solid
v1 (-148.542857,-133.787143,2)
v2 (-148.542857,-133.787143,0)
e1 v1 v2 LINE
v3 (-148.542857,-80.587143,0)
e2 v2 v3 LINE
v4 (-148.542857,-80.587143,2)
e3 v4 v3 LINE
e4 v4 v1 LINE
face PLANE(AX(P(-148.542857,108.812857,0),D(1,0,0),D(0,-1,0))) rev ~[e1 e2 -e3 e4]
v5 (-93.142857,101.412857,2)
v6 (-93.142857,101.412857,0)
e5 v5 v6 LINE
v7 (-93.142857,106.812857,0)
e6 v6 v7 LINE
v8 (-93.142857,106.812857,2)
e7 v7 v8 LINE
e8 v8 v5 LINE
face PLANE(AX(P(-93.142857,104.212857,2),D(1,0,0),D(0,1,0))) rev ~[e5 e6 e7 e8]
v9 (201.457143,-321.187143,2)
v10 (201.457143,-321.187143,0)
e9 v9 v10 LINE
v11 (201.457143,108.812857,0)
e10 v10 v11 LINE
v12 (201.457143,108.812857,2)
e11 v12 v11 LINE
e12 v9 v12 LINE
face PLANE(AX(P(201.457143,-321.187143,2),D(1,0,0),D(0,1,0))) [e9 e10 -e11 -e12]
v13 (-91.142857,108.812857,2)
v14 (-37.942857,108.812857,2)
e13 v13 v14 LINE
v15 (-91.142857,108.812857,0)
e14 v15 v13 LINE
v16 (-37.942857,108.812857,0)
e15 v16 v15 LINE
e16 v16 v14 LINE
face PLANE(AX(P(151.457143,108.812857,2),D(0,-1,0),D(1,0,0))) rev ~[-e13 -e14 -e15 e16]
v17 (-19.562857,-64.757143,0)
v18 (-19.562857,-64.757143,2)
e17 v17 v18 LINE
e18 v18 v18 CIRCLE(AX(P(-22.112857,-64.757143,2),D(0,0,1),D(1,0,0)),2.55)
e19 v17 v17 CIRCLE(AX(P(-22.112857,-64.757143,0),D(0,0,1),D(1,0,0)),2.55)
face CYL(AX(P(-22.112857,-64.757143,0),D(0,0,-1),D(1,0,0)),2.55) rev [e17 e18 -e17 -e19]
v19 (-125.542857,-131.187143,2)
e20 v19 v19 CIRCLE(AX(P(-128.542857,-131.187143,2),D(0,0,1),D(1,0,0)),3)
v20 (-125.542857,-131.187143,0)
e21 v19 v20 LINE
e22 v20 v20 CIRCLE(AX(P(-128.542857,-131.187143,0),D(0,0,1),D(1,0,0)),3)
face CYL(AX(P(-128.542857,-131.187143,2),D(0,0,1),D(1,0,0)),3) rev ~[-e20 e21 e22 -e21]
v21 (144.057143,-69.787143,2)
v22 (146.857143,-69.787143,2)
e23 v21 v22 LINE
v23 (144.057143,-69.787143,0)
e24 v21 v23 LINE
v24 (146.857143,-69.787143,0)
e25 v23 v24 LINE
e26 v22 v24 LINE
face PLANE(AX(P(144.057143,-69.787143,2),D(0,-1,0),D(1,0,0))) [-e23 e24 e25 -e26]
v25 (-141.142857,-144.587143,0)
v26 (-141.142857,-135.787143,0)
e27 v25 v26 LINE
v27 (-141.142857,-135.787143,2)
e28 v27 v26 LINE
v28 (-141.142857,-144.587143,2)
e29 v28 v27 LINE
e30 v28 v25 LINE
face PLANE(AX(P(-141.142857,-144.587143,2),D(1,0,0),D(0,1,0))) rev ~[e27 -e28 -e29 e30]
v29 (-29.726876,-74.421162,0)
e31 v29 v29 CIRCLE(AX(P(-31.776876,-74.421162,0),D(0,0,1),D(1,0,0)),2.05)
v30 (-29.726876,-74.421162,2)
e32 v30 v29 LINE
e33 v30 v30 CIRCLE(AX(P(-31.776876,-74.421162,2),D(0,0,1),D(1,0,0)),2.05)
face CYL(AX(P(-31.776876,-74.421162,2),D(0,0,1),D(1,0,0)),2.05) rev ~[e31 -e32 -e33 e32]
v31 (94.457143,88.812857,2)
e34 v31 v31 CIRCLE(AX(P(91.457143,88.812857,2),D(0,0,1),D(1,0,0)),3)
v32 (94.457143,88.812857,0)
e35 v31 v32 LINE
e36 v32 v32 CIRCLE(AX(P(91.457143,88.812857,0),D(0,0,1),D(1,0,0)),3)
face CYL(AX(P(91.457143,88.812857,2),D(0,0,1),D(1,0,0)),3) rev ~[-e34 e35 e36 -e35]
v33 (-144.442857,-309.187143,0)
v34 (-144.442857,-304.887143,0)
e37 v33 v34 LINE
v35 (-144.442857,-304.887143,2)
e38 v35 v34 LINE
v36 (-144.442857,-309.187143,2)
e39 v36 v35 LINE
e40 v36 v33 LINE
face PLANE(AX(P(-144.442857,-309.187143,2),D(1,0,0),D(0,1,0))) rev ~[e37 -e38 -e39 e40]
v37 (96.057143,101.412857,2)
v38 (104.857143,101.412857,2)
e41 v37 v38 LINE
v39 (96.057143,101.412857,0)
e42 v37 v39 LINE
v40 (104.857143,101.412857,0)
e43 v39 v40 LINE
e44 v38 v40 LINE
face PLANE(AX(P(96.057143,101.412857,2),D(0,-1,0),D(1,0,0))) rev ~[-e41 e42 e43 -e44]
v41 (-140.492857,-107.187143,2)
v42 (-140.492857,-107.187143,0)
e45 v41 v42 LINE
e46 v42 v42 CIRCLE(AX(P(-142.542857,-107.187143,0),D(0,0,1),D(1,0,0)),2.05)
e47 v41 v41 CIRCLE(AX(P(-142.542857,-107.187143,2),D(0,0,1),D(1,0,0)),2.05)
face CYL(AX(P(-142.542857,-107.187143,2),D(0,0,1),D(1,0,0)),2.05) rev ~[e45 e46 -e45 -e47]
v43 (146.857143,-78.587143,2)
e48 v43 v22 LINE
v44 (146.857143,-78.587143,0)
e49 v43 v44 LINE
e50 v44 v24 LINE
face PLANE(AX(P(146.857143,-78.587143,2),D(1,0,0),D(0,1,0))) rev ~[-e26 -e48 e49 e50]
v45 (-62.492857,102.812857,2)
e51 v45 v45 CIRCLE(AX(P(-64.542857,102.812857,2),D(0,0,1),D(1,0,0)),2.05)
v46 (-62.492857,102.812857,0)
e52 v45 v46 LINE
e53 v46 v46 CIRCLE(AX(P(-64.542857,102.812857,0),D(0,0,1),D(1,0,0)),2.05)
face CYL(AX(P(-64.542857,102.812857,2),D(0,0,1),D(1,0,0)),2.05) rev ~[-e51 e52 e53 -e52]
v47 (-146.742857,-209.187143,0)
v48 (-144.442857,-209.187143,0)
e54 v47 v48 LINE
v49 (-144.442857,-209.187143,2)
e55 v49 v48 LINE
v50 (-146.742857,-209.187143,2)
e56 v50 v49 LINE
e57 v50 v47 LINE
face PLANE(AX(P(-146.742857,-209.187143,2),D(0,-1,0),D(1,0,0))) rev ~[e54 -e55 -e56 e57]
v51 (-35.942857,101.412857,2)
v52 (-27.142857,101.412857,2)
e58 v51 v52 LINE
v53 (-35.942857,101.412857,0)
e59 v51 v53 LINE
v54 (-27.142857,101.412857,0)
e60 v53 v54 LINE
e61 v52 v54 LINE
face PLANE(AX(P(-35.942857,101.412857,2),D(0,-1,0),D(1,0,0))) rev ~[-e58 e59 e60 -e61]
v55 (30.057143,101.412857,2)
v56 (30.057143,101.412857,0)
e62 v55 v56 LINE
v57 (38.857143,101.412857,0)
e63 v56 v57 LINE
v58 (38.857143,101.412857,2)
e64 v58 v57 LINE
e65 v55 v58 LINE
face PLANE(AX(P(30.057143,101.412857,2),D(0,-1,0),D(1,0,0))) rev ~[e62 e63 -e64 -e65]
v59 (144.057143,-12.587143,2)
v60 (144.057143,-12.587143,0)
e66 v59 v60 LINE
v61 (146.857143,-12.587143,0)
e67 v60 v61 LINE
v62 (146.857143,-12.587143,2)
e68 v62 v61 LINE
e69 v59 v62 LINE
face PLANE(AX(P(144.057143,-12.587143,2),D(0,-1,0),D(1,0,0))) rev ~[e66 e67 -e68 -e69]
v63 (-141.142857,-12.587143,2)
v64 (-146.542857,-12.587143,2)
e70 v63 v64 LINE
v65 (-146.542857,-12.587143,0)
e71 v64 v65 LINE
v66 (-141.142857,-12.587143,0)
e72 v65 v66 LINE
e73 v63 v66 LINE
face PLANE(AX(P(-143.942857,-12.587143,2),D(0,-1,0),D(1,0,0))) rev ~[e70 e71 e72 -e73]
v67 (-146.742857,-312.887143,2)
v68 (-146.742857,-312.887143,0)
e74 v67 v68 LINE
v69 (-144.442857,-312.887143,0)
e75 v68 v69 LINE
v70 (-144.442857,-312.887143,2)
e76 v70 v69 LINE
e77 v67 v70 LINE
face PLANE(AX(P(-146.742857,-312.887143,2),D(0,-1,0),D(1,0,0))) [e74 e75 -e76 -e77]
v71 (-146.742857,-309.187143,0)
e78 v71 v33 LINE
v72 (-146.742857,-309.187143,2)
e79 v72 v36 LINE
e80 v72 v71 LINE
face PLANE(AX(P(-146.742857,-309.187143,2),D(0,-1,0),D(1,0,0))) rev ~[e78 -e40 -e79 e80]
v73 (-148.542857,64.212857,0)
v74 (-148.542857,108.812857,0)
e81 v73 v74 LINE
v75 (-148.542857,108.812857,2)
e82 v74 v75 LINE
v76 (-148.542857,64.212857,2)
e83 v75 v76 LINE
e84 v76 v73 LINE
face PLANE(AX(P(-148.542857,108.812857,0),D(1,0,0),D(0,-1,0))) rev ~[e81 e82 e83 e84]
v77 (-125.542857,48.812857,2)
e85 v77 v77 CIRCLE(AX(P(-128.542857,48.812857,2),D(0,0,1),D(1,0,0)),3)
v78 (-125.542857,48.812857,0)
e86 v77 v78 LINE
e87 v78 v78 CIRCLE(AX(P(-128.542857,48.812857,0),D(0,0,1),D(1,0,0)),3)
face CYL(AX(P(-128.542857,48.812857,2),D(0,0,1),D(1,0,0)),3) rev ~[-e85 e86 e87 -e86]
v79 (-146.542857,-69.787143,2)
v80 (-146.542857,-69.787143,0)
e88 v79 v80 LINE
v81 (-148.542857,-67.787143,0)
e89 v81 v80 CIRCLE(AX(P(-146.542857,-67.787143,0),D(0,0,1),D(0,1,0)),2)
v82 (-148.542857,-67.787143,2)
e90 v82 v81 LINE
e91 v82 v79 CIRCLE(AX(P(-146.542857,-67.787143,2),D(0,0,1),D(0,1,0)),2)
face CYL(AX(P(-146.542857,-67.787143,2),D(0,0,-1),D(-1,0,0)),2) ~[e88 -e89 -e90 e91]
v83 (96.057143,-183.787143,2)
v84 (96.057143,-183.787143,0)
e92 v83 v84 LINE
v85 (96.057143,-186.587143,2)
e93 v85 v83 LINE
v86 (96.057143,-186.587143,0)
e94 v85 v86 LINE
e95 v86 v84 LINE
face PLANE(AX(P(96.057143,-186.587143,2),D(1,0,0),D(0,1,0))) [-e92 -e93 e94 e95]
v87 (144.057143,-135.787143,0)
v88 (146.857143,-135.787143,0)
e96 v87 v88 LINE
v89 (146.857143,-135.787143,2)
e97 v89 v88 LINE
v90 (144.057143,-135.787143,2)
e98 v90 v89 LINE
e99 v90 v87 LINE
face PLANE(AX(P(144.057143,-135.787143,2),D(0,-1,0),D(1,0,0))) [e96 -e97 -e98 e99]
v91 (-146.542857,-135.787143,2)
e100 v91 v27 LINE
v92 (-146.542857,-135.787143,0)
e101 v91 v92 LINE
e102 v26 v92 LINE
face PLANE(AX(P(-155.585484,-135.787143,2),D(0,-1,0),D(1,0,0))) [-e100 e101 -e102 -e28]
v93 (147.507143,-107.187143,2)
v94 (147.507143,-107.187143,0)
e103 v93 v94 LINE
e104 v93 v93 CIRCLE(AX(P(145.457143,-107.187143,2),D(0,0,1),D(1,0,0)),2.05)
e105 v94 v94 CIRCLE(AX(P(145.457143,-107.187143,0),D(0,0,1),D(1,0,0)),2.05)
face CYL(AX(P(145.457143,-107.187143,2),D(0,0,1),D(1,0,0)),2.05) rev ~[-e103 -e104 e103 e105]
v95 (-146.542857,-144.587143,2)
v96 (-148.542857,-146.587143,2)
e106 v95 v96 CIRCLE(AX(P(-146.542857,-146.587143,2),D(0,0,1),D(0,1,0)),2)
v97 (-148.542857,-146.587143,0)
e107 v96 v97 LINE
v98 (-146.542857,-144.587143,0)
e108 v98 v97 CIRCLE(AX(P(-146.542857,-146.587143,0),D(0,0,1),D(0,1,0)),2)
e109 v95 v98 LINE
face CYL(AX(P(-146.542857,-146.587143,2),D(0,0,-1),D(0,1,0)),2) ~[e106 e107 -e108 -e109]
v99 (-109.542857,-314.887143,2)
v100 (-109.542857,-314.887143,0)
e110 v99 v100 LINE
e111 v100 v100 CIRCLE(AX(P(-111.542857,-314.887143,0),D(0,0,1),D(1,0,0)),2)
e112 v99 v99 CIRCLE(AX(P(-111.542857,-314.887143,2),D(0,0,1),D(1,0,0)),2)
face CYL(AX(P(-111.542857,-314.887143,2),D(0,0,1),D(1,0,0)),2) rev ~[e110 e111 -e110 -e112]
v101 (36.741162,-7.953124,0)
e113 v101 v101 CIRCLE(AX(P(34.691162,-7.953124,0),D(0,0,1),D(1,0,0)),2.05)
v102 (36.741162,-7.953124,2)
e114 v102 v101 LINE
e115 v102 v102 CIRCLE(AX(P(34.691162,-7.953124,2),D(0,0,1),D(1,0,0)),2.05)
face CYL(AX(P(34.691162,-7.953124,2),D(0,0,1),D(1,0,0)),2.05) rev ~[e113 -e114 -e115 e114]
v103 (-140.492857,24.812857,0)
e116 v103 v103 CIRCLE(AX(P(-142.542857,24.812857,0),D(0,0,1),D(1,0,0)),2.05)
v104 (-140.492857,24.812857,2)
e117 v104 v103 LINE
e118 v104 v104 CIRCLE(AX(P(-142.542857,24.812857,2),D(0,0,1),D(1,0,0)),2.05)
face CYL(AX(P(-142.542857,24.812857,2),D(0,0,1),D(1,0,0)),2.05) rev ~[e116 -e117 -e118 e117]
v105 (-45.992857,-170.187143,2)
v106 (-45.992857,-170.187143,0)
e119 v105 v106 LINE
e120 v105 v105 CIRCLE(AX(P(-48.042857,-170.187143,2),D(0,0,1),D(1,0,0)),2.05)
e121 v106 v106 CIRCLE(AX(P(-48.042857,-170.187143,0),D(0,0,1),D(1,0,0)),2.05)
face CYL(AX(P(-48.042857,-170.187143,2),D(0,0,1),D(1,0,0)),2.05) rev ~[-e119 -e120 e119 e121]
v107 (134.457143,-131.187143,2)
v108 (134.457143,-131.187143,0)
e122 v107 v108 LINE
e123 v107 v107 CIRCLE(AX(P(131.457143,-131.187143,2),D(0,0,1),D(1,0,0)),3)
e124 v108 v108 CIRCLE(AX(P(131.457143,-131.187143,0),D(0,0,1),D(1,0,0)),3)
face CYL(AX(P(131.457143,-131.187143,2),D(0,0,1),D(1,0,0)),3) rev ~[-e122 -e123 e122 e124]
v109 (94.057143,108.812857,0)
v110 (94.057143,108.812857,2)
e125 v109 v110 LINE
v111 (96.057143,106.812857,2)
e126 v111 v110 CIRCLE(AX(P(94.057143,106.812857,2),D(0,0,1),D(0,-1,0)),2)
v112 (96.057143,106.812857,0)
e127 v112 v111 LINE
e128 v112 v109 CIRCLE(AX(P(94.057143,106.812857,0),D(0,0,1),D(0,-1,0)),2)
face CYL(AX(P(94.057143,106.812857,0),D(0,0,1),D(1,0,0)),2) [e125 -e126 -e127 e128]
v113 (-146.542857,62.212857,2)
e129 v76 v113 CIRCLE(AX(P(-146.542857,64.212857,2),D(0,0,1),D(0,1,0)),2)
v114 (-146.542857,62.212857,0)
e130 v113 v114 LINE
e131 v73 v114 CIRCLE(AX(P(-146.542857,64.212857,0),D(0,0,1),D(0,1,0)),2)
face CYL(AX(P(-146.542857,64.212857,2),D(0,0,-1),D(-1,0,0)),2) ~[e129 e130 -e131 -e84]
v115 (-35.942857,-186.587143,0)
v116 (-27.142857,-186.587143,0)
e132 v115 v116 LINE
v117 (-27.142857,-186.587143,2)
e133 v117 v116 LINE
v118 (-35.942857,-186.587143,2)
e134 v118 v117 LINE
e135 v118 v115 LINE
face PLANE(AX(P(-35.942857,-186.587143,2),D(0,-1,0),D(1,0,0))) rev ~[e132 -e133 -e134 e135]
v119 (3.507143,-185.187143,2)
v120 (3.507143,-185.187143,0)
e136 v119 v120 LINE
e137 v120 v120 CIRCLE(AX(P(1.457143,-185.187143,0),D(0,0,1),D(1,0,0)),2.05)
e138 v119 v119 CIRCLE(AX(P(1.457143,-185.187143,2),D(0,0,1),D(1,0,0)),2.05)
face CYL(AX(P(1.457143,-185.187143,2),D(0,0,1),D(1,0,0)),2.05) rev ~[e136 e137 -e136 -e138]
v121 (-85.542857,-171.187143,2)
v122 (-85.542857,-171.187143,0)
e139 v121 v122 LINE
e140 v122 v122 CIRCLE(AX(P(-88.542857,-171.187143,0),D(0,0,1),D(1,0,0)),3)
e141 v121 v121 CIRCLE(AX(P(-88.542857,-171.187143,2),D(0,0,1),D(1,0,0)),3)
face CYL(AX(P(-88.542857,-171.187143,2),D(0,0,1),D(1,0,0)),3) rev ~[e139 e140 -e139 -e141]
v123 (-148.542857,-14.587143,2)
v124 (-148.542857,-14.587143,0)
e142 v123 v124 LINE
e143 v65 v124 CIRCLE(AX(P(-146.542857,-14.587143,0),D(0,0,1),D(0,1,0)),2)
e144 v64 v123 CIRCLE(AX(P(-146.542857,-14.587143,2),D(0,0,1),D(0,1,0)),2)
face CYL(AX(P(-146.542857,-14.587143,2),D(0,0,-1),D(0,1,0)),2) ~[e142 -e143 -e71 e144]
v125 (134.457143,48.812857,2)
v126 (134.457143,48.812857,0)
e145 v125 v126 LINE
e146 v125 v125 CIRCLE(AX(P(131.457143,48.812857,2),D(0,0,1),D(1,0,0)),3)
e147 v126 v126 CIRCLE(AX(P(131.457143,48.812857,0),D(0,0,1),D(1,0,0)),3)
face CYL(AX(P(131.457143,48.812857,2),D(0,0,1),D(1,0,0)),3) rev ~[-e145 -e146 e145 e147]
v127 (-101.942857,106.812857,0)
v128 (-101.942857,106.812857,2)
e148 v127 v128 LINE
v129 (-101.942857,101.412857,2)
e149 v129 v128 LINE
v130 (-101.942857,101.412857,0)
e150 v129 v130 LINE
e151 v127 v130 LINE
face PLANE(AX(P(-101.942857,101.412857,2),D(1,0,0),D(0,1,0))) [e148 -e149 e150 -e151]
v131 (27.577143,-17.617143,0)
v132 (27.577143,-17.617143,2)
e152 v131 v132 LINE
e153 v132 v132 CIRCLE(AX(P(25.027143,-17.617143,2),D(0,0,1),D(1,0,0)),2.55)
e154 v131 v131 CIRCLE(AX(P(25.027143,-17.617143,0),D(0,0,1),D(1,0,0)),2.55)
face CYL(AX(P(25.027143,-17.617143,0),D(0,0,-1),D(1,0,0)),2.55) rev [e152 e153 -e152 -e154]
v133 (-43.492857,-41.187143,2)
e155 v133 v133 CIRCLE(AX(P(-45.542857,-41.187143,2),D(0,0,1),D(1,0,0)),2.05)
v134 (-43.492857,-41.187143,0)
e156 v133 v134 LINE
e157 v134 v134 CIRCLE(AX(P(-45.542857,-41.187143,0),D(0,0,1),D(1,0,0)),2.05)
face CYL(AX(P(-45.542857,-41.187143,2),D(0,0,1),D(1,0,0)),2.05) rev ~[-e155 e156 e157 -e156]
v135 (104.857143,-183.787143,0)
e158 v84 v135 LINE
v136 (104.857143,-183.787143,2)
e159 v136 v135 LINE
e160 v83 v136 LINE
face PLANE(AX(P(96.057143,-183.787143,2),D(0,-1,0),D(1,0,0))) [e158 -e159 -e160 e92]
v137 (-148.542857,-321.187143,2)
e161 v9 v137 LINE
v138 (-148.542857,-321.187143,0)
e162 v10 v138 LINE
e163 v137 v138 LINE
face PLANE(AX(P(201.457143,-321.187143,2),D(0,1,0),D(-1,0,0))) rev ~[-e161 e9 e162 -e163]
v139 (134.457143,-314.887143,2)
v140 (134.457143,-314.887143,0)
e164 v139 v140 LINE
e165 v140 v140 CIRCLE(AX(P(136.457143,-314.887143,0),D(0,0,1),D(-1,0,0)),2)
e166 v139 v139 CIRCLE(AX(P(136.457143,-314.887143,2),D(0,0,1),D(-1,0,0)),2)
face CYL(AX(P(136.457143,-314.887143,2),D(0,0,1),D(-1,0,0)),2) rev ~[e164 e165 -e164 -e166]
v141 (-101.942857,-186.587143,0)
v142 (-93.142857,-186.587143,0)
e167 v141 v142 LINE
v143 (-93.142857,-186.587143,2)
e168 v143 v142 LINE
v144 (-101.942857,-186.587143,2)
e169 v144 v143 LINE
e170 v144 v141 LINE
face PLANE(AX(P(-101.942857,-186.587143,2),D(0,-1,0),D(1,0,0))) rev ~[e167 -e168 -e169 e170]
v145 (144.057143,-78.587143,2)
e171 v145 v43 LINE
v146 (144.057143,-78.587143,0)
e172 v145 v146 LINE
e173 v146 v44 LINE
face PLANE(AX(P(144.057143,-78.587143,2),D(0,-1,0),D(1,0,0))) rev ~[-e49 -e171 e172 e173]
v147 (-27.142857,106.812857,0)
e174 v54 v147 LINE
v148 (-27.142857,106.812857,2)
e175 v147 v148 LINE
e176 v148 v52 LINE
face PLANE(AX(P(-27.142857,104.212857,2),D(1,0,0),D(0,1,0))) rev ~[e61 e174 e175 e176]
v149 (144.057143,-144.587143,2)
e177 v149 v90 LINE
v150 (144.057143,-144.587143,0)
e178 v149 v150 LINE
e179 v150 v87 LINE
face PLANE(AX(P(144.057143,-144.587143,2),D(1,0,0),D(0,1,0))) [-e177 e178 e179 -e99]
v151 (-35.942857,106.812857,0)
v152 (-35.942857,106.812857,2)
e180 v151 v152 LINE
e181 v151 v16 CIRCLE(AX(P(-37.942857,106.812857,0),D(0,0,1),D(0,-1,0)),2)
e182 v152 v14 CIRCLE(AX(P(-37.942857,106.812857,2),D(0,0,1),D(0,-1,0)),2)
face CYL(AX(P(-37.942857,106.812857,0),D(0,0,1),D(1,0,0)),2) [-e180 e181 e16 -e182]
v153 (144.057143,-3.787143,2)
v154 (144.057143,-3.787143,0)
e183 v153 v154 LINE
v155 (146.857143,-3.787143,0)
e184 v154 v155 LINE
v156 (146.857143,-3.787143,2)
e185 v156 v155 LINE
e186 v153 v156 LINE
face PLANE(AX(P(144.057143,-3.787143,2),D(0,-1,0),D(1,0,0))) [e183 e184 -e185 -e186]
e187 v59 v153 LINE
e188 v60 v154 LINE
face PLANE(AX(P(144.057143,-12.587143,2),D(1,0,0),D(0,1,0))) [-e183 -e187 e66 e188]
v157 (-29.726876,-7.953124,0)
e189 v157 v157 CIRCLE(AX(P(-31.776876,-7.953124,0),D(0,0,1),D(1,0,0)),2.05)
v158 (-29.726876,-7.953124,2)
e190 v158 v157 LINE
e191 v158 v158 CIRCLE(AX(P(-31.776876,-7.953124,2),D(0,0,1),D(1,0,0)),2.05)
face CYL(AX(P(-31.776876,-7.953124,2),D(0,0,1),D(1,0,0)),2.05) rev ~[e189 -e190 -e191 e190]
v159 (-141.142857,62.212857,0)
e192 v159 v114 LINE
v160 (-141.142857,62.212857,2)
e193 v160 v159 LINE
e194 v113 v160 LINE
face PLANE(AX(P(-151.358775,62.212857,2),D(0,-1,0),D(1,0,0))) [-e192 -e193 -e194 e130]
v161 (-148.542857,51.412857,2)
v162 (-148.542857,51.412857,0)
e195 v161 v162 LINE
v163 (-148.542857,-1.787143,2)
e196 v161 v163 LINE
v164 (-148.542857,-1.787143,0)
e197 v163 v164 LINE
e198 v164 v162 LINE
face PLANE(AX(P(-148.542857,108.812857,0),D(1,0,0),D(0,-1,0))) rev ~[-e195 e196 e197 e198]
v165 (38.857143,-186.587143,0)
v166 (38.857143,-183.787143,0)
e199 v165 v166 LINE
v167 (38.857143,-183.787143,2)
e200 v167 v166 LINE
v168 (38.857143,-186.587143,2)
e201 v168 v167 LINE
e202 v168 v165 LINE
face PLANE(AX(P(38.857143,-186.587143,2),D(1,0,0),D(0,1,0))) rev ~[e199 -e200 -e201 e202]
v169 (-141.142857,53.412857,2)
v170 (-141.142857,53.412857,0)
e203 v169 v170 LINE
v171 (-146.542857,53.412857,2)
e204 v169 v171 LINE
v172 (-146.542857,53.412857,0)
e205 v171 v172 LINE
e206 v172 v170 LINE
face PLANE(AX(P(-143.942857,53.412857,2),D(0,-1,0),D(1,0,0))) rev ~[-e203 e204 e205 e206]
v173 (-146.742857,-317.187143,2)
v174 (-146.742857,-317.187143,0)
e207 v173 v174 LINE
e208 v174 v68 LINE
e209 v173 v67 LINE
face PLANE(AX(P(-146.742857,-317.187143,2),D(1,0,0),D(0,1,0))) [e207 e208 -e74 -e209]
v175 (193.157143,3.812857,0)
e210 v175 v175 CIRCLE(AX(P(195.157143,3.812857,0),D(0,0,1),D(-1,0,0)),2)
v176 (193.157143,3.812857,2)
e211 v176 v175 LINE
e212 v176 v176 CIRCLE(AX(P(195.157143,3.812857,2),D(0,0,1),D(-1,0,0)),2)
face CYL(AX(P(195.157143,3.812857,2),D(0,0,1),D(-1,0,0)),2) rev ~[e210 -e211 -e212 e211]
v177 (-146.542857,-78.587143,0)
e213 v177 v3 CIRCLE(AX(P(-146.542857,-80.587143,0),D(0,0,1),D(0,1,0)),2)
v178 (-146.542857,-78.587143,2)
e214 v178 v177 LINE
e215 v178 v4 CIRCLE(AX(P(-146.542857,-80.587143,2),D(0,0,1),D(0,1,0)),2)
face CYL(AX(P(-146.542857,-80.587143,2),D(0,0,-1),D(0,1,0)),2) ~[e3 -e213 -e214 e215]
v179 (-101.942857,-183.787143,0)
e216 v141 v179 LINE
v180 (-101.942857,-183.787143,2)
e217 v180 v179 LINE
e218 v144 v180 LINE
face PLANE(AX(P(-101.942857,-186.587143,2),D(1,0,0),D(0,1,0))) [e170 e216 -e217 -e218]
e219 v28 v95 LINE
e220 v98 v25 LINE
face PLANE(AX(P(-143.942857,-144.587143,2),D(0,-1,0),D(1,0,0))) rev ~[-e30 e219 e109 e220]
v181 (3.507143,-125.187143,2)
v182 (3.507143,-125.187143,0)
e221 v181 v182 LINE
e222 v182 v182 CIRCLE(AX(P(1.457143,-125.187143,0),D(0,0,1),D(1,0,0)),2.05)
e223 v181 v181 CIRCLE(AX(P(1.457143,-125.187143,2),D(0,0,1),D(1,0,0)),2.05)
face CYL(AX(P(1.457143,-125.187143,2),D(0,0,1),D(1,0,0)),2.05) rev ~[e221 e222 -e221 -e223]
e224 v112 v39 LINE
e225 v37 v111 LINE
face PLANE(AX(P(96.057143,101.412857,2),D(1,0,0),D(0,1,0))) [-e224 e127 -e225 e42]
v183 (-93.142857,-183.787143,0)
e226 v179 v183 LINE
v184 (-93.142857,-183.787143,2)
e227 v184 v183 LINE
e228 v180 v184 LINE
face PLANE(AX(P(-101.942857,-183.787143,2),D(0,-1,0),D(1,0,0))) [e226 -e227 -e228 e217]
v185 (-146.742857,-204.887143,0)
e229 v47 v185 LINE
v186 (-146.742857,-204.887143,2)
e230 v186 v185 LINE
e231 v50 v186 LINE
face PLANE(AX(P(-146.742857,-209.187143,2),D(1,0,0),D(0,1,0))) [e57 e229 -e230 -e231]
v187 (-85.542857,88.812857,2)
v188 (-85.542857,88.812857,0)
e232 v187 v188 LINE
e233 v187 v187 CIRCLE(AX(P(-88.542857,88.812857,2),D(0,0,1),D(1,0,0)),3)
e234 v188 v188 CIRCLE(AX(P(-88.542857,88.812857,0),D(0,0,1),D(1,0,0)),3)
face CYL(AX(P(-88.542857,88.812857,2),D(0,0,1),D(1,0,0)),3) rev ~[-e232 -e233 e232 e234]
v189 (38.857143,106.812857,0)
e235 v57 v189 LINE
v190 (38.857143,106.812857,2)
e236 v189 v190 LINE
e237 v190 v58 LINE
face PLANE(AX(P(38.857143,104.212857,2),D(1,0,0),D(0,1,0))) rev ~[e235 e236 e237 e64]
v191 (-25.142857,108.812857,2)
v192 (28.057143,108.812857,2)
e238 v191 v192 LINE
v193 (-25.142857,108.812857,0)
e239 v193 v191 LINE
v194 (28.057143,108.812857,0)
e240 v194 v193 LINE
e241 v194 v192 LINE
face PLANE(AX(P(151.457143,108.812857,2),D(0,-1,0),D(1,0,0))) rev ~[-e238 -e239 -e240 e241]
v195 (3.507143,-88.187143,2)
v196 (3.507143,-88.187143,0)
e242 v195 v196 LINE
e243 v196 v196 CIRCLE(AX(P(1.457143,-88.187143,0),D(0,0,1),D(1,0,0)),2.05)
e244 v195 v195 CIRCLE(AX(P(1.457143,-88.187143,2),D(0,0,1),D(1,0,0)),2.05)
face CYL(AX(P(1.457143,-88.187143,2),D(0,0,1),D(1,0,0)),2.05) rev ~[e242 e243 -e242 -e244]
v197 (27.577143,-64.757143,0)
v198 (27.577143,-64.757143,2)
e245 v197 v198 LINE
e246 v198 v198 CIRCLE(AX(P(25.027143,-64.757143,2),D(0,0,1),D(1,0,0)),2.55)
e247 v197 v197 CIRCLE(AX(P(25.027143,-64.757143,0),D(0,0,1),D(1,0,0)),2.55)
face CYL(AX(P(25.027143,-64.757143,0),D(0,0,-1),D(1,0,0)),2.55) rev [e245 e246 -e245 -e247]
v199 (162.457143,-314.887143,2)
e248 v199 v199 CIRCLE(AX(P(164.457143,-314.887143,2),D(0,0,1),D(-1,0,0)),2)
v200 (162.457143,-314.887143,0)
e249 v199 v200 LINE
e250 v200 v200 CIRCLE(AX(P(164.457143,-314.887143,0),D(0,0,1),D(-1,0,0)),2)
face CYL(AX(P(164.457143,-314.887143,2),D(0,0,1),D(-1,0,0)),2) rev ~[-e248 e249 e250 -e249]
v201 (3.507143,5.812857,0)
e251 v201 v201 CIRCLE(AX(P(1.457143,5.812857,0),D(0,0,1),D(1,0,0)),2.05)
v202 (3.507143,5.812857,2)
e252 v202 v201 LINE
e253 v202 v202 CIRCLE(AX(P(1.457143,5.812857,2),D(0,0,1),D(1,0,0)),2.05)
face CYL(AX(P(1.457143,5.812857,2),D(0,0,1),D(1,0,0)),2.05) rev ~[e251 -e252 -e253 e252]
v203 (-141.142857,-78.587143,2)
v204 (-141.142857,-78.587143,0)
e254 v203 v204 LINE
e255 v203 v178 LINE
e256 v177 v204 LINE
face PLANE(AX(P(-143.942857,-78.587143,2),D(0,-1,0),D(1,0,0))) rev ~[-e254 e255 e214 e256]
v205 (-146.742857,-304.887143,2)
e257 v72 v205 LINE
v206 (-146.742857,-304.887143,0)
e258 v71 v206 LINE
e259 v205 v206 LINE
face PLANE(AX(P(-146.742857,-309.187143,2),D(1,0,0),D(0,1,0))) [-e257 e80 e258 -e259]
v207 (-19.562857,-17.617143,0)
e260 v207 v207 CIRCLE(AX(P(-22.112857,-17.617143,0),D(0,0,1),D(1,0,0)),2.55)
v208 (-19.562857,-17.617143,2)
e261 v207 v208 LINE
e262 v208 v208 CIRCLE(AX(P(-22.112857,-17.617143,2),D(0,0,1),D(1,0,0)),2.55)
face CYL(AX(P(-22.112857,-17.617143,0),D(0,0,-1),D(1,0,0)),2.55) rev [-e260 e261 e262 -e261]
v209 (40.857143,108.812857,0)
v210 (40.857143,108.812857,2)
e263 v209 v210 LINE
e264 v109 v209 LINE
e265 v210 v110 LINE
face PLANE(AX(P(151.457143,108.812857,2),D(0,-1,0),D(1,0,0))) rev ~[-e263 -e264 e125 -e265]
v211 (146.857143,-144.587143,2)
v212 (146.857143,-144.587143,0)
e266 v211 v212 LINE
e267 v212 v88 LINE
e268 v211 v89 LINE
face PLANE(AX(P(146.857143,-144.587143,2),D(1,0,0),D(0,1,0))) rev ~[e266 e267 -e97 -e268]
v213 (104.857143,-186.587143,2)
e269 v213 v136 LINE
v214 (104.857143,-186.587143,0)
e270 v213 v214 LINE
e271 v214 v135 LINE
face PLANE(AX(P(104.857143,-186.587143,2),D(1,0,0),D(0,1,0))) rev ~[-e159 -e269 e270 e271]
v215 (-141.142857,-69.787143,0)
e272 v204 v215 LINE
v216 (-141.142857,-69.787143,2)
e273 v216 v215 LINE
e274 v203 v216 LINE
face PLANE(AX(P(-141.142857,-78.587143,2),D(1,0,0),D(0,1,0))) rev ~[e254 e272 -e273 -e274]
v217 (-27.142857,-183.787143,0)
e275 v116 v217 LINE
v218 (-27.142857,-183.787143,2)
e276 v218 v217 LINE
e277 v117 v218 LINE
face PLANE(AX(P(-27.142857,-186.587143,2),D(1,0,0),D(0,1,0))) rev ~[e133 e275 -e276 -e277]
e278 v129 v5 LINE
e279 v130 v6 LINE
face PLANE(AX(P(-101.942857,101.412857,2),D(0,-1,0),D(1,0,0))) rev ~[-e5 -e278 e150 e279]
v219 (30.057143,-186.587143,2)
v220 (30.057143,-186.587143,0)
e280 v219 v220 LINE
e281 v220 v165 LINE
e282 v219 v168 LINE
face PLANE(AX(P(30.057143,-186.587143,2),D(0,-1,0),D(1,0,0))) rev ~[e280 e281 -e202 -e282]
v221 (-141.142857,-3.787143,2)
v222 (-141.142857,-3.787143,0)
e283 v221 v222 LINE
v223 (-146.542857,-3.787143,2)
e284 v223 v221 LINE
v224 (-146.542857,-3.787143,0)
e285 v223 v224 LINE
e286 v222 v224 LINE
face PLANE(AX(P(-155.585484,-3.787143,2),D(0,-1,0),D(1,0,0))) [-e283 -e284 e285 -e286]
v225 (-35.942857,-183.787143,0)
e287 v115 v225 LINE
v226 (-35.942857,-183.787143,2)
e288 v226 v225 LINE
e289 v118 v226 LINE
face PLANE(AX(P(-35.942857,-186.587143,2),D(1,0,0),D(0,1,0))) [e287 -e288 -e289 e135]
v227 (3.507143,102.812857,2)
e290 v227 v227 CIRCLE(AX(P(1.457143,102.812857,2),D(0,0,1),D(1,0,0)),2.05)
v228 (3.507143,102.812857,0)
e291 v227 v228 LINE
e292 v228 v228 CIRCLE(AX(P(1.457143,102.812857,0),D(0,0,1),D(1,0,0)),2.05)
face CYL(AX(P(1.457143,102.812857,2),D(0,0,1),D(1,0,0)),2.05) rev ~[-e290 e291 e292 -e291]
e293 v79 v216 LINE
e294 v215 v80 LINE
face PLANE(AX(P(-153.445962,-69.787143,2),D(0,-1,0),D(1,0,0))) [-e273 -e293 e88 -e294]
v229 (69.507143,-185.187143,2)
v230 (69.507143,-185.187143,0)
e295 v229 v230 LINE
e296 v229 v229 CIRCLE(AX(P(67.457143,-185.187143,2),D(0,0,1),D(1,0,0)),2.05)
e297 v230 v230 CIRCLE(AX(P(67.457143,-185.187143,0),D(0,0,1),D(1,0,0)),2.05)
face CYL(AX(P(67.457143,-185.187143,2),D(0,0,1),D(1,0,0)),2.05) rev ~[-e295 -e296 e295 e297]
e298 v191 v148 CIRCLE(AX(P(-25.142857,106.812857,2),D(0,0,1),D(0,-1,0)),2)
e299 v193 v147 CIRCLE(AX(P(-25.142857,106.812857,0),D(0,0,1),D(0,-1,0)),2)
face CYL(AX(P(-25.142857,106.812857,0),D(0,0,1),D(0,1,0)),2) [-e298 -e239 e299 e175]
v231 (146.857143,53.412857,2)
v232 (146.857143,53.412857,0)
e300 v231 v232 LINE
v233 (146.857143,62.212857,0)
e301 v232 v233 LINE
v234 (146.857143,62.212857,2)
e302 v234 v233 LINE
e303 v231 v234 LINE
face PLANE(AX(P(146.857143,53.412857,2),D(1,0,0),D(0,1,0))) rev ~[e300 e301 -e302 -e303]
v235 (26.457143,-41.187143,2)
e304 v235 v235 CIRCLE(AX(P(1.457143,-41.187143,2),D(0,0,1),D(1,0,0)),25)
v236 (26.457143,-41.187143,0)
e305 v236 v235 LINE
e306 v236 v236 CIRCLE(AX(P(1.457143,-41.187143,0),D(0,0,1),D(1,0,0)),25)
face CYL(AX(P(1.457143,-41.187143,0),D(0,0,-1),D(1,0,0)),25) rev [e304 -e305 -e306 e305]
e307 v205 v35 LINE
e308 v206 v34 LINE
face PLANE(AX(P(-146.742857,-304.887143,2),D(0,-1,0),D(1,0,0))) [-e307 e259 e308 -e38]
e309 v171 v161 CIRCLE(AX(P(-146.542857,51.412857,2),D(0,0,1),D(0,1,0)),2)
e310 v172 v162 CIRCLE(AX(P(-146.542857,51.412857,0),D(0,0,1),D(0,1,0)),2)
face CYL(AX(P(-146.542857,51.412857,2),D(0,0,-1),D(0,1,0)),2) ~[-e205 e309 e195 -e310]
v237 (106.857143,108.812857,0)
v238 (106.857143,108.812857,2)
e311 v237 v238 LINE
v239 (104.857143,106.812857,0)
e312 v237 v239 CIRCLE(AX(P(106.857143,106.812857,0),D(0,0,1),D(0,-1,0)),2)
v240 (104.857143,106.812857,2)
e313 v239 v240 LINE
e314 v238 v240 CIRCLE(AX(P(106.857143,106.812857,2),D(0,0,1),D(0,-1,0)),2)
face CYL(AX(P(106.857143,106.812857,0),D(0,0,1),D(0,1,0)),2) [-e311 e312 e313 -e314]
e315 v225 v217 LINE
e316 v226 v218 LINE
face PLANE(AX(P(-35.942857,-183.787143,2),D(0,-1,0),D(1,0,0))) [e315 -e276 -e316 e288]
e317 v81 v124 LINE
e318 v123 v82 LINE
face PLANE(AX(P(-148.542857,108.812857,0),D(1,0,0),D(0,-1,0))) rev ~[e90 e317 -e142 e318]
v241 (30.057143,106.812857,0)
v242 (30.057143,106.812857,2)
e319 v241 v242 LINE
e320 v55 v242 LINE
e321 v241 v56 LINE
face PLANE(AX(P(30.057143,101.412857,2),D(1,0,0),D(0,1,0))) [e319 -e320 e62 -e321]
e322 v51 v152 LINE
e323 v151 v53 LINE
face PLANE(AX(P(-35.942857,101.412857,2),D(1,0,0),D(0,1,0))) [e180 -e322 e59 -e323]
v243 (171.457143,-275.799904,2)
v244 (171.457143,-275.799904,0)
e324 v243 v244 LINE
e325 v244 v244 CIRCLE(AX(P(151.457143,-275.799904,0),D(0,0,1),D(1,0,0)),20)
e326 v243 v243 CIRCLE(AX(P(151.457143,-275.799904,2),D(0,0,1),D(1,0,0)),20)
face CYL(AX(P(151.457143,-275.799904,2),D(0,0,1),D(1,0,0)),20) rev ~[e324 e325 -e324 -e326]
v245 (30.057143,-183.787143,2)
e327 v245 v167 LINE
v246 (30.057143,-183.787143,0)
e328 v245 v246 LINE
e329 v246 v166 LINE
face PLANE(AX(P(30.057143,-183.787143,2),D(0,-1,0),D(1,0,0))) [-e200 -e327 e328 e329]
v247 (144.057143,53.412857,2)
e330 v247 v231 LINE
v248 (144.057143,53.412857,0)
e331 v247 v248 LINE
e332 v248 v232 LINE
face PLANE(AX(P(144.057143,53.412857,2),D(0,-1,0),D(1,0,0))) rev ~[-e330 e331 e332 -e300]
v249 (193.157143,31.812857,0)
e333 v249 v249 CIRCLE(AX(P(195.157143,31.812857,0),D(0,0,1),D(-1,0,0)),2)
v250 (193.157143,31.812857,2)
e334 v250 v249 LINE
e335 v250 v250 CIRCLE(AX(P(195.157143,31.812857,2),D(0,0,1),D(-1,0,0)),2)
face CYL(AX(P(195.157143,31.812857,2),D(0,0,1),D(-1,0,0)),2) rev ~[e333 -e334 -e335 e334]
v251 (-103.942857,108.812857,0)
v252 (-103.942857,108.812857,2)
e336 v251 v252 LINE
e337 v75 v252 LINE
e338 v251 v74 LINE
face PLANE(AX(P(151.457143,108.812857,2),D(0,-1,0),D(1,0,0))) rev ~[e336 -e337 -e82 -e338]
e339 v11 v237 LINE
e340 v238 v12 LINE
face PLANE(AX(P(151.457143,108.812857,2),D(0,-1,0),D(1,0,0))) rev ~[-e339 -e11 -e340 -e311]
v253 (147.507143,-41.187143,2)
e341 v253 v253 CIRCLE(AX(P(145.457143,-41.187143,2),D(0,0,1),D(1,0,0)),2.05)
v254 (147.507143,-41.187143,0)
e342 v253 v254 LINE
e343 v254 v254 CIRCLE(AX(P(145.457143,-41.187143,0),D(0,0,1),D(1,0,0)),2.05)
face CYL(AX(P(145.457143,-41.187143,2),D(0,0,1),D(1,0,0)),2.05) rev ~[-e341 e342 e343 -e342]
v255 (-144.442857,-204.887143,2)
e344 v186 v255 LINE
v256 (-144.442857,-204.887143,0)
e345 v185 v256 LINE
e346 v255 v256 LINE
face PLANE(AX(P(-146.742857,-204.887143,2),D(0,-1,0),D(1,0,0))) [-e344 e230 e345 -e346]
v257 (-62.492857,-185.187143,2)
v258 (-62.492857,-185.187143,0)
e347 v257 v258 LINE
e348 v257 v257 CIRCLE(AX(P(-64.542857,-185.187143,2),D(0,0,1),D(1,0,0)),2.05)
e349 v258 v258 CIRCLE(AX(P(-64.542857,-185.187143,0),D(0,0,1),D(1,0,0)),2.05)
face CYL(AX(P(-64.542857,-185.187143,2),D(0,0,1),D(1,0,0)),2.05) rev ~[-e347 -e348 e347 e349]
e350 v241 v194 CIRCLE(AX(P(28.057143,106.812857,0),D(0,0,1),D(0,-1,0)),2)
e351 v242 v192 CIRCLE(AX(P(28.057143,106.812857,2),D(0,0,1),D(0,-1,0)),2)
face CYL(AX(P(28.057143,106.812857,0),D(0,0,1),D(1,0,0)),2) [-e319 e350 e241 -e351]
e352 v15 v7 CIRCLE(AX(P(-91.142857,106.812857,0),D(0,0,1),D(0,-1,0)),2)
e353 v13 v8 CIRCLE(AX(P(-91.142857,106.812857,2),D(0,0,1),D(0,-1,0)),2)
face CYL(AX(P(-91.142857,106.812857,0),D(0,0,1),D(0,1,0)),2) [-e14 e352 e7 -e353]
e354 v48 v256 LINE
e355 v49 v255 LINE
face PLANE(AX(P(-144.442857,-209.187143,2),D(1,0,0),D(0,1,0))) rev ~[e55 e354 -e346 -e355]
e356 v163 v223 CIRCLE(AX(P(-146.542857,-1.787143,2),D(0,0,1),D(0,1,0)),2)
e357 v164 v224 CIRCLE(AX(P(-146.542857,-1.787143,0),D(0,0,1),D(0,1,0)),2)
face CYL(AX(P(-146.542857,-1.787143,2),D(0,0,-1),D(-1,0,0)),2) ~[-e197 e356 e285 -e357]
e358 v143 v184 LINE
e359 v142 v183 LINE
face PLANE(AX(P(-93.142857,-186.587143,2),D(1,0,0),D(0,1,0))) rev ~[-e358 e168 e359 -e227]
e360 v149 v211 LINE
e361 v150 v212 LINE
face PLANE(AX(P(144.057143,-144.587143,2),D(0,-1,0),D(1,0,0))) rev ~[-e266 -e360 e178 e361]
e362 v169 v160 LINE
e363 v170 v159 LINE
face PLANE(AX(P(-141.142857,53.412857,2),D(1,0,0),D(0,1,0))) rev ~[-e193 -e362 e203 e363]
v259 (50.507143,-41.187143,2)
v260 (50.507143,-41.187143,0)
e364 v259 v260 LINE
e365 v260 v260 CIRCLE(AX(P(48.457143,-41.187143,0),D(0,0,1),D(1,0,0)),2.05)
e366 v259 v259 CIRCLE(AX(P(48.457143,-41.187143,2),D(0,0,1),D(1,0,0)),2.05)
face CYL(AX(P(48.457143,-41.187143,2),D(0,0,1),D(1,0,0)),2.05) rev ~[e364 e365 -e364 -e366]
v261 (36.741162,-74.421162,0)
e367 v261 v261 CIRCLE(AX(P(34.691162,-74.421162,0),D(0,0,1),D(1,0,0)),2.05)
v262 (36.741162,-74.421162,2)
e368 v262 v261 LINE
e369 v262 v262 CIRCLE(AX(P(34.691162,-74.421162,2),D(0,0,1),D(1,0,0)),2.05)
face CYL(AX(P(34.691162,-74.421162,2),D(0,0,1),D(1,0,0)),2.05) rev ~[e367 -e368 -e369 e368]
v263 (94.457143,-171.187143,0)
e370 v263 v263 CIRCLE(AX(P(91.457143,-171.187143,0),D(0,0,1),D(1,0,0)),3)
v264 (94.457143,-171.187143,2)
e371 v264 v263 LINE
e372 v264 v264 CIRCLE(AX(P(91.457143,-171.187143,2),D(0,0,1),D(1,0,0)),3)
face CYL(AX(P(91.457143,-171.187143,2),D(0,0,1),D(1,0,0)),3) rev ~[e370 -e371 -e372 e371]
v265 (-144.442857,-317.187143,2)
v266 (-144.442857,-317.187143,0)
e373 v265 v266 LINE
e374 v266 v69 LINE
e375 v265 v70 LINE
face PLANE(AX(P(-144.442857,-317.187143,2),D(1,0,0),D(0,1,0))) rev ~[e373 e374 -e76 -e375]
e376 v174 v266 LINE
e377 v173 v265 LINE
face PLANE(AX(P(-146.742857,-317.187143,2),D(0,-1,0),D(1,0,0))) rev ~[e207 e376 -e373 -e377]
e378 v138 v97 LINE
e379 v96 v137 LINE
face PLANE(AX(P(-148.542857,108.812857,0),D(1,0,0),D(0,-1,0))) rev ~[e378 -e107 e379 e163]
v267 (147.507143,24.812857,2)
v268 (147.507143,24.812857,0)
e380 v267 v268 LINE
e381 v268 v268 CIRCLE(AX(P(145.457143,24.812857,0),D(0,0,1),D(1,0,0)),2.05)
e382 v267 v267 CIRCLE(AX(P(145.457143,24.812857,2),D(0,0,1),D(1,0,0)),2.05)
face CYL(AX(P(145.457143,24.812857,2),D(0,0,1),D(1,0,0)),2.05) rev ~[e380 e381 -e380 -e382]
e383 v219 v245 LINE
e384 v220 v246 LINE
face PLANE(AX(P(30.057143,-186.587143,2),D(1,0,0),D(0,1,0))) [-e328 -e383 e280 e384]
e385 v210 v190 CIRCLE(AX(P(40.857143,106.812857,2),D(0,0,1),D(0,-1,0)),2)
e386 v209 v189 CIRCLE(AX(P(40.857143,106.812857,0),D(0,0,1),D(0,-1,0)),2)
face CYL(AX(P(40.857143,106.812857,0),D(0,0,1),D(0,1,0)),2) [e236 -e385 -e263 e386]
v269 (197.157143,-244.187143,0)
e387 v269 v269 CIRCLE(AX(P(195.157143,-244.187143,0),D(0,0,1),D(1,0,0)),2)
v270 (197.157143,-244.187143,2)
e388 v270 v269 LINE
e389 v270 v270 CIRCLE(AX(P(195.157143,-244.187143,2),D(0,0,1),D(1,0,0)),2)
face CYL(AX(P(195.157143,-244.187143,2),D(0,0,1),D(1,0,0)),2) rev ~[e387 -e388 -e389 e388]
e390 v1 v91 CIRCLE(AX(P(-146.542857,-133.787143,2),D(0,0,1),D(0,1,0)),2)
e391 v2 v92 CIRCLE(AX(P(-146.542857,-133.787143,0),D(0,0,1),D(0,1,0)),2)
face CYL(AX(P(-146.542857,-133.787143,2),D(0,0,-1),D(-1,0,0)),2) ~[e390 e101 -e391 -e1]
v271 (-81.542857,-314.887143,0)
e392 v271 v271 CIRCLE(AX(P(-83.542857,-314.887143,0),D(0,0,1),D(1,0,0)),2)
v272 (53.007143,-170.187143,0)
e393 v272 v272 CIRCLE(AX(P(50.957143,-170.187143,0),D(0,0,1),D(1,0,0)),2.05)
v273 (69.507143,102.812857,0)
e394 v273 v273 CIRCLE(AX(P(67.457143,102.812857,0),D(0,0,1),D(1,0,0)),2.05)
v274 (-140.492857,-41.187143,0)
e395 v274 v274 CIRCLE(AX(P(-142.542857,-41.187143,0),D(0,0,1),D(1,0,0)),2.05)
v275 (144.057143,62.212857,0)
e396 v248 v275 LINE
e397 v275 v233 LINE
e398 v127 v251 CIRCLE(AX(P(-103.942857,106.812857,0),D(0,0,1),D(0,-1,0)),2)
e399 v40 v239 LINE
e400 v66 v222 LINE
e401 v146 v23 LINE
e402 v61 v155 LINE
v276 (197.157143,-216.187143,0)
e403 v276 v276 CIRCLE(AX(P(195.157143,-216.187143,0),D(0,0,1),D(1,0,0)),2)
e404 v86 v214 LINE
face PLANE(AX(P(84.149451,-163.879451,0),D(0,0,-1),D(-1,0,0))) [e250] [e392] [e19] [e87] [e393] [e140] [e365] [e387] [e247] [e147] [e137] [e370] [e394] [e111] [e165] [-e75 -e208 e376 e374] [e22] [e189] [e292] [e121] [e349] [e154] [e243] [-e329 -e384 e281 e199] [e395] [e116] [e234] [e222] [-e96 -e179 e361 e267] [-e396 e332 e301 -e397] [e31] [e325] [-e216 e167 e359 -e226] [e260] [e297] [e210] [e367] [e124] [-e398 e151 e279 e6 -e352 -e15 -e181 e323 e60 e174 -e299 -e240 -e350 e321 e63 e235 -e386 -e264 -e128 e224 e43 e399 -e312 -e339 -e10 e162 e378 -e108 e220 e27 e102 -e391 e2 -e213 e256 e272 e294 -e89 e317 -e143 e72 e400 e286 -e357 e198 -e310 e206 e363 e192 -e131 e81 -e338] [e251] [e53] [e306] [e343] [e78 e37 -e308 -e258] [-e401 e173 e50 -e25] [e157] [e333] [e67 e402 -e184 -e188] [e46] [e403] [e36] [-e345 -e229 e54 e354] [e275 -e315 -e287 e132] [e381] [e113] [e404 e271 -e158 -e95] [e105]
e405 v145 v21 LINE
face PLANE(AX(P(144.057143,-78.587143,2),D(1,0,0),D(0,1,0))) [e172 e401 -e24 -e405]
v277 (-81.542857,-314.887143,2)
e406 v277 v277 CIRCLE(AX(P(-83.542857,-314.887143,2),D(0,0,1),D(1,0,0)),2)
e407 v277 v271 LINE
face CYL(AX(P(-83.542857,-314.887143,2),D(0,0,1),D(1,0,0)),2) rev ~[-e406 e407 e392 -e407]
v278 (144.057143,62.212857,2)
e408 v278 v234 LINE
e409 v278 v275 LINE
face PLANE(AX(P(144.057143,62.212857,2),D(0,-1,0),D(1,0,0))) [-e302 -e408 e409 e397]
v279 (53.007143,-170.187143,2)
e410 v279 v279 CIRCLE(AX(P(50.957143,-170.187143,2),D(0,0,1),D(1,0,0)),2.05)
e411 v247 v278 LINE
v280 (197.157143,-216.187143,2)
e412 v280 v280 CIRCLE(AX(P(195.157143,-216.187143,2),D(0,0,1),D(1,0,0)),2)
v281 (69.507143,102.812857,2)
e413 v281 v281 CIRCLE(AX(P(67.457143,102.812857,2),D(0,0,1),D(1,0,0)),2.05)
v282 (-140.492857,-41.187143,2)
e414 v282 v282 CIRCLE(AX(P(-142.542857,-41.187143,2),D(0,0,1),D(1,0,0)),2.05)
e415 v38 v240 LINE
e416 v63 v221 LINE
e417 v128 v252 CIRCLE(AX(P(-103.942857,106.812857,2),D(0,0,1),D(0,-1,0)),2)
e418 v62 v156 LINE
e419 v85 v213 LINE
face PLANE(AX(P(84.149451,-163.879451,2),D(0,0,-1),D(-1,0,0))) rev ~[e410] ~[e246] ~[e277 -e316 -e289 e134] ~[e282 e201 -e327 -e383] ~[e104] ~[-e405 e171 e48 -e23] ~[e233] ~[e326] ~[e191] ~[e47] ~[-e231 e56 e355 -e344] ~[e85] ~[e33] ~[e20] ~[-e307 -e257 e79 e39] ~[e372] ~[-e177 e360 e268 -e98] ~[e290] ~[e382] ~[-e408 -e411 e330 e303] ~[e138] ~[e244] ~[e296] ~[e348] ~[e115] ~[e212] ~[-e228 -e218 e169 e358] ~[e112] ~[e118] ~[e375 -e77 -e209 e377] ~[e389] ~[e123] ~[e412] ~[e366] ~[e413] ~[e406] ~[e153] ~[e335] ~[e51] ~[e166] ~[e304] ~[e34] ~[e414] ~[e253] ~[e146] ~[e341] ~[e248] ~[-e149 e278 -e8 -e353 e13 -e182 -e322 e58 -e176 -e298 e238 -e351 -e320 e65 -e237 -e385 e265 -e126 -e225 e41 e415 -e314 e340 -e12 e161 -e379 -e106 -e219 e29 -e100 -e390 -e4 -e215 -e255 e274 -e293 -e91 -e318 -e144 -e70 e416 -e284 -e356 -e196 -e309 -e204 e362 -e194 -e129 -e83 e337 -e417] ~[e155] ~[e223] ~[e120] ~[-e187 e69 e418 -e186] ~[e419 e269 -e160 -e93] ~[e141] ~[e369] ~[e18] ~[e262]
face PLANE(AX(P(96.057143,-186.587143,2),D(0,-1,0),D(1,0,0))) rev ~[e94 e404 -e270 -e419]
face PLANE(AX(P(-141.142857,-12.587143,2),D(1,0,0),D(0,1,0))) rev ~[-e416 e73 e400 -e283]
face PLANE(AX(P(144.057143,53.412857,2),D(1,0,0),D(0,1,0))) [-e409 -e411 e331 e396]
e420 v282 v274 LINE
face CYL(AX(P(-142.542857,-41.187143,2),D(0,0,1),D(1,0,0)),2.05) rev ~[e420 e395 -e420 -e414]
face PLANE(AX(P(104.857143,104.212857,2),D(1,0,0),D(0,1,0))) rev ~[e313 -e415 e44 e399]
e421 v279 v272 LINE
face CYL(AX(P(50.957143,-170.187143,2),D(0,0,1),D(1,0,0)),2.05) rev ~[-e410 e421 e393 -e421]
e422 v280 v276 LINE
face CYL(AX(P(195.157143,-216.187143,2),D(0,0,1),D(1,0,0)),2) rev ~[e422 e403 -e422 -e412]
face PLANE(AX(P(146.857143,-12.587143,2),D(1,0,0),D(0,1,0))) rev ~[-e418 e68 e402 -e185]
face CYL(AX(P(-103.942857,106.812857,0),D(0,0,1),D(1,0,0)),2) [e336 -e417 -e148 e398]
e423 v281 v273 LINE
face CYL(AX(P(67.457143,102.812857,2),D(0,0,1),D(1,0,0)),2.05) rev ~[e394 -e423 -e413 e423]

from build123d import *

# Parameters (mm, degrees)
SKETCH_1_R          = 25
SKETCH_1_R_2        = 2.55
EXTRUDE_1_DEPTH     = 2
SKETCH_3_R          = 2.05
SKETCH_3_W          = 8.8
SKETCH_3_H          = 2.8
SKETCH_3_W_2        = 2.8
SKETCH_3_H_2        = 8.8
CUT_EXTRUDE_2_DEPTH = 4
SKETCH_7_R          = 3
CUT_EXTRUDE_3_DEPTH = 10
SKETCH_9_R          = 20
SKETCH_9_R_2        = 2
SKETCH_9_W          = 2.3
SKETCH_9_H          = 4.3
EXTRUDE_3_DEPTH     = 2
SKETCH_10_W         = 7.415917821
SKETCH_10_H         = 8.8
SKETCH_10_W_2       = 11.642627239
SKETCH_10_W_3       = 9.503104614
SKETCH_10_W_4       = 8.8
SKETCH_10_H_2       = 9.953693287
SKETCH_10_H_3       = 6.236527311
SKETCH_10_H_4       = 11.786151392
SKETCH_10_H_5       = 12.789851521
CUT_EXTRUDE_4_DEPTH = 2
FILLET_1_R          = 2


with BuildPart() as part:
    # 草图1 → 凸台-拉伸1 (new body)
    with BuildSketch(Plane.XY):
        Polygon((151.457142857, -41.187142857), (151.457142857, 108.812857143), (-148.542857143, 108.812857143), (-148.542857143, -191.187142857), (151.457142857, -191.187142857), align=None)
        with Locations((1.457142857, -41.187142857)):
            Circle(SKETCH_1_R, mode=Mode.SUBTRACT)
        with Locations((25.027142857, -17.617142857)):
            Circle(SKETCH_1_R_2, mode=Mode.SUBTRACT)
        with Locations((25.027142857, -64.757142857)):
            Circle(SKETCH_1_R_2, mode=Mode.SUBTRACT)
        with Locations((-22.112857143, -64.757142857)):
            Circle(SKETCH_1_R_2, mode=Mode.SUBTRACT)
        with Locations((-22.112857143, -17.617142857)):
            Circle(SKETCH_1_R_2, mode=Mode.SUBTRACT)
    extrude(amount=EXTRUDE_1_DEPTH)

    # 草图3 → 切除-拉伸2 (cut)
    with BuildSketch(Plane.XY.offset(2)):
        with Locations((1.457142857, -185.187142857)):
            Circle(SKETCH_3_R)
        with Locations((67.457142857, -185.187142857)):
            Circle(SKETCH_3_R)
        with Locations((-64.542857143, -185.187142857)):
            Circle(SKETCH_3_R)
        with Locations((-142.542857143, 24.812857143)):
            Circle(SKETCH_3_R)
        with Locations((-142.542857143, -41.187142857)):
            Circle(SKETCH_3_R)
        with Locations((-142.542857143, -107.187142857)):
            Circle(SKETCH_3_R)
        with Locations((67.457142857, 102.812857143)):
            Circle(SKETCH_3_R)
        with Locations((1.457142857, 102.812857143)):
            Circle(SKETCH_3_R)
        with Locations((-64.542857143, 102.812857143)):
            Circle(SKETCH_3_R)
        with Locations((145.457142857, -107.187142857)):
            Circle(SKETCH_3_R)
        with Locations((145.457142857, -41.187142857)):
            Circle(SKETCH_3_R)
        with Locations((145.457142857, 24.812857143)):
            Circle(SKETCH_3_R)
        with Locations((50.957142857, -170.187142857)):
            Circle(SKETCH_3_R)
        with Locations((-48.042857143, -170.187142857)):
            Circle(SKETCH_3_R)
        with Locations((1.457142857, -88.187142857)):
            Circle(SKETCH_3_R)
        with Locations((-31.776875859, -74.421161573)):
            Circle(SKETCH_3_R)
        with Locations((-45.542857143, -41.187142857)):
            Circle(SKETCH_3_R)
        with Locations((-31.776875859, -7.953124141)):
            Circle(SKETCH_3_R)
        with Locations((1.457142857, 5.812857143)):
            Circle(SKETCH_3_R)
        with Locations((34.691161573, -7.953124141)):
            Circle(SKETCH_3_R)
        with Locations((48.457142857, -41.187142857)):
            Circle(SKETCH_3_R)
        with Locations((34.691161573, -74.421161573)):
            Circle(SKETCH_3_R)
        with Locations((1.457142857, -125.187142857)):
            Circle(SKETCH_3_R)
        with Locations((100.457142857, -185.187142857)):
            Rectangle(SKETCH_3_W, SKETCH_3_H)
        with Locations((34.457142857, -185.187142857)):
            Rectangle(SKETCH_3_W, SKETCH_3_H)
        with Locations((-31.542857143, -185.187142857)):
            Rectangle(SKETCH_3_W, SKETCH_3_H)
        with Locations((-97.542857143, -185.187142857)):
            Rectangle(SKETCH_3_W, SKETCH_3_H)
        with Locations((-142.542857143, 57.812857143)):
            Rectangle(SKETCH_3_W_2, SKETCH_3_H_2)
        with Locations((-142.542857143, -8.187142857)):
            Rectangle(SKETCH_3_W_2, SKETCH_3_H_2)
        with Locations((-142.542857143, -74.187142857)):
            Rectangle(SKETCH_3_W_2, SKETCH_3_H_2)
        with Locations((-142.542857143, -140.187142857)):
            Rectangle(SKETCH_3_W_2, SKETCH_3_H_2)
        with Locations((100.457142857, 102.812857143)):
            Rectangle(SKETCH_3_W, SKETCH_3_H)
        with Locations((34.457142857, 102.812857143)):
            Rectangle(SKETCH_3_W, SKETCH_3_H)
        with Locations((-31.542857143, 102.812857143)):
            Rectangle(SKETCH_3_W, SKETCH_3_H)
        with Locations((-97.542857143, 102.812857143)):
            Rectangle(SKETCH_3_W, SKETCH_3_H)
        with Locations((145.457142857, -140.187142857)):
            Rectangle(SKETCH_3_W_2, SKETCH_3_H_2)
        with Locations((145.457142857, -74.187142857)):
            Rectangle(SKETCH_3_W_2, SKETCH_3_H_2)
        with Locations((145.457142857, -8.187142857)):
            Rectangle(SKETCH_3_W_2, SKETCH_3_H_2)
        with Locations((145.457142857, 57.812857143)):
            Rectangle(SKETCH_3_W_2, SKETCH_3_H_2)
    extrude(amount=-CUT_EXTRUDE_2_DEPTH, mode=Mode.SUBTRACT)

    # 草图7 → 切除-拉伸3 (cut)
    with BuildSketch(Plane.XY.offset(2)):
        with Locations((-88.542857143, -171.187142857)):
            Circle(SKETCH_7_R)
        with Locations((91.457142857, -171.187142857)):
            Circle(SKETCH_7_R)
        with Locations((-128.542857143, 48.812857143)):
            Circle(SKETCH_7_R)
        with Locations((-128.542857143, -131.187142857)):
            Circle(SKETCH_7_R)
        with Locations((91.457142857, 88.812857143)):
            Circle(SKETCH_7_R)
        with Locations((-88.542857143, 88.812857143)):
            Circle(SKETCH_7_R)
        with Locations((131.457142857, -131.187142857)):
            Circle(SKETCH_7_R)
        with Locations((131.457142857, 48.812857143)):
            Circle(SKETCH_7_R)
    extrude(amount=-CUT_EXTRUDE_3_DEPTH, mode=Mode.SUBTRACT)

    # 草图9 → 凸台-拉伸3 (add)
    with BuildSketch(Plane.XY.offset(2)):
        Polygon((151.457142857, 108.812857143), (201.457142857, 108.812857143), (201.457142857, -191.187142857), (201.457142857, -321.187142857), (-148.542857143, -321.187142857), (-148.542857143, -191.187142857), (151.457142857, -191.187142857), align=None)
        with Locations((151.457142857, -275.799903925)):
            Circle(SKETCH_9_R, mode=Mode.SUBTRACT)
        with Locations((-111.542857143, -314.887142857)):
            Circle(SKETCH_9_R_2, mode=Mode.SUBTRACT)
        with Locations((-83.542857143, -314.887142857)):
            Circle(SKETCH_9_R_2, mode=Mode.SUBTRACT)
        with Locations(Location((136.457142857, -314.887142857, 0), (0, 0, 180))):
            Circle(SKETCH_9_R_2, mode=Mode.SUBTRACT)
        with Locations(Location((164.457142857, -314.887142857, 0), (0, 0, 180))):
            Circle(SKETCH_9_R_2, mode=Mode.SUBTRACT)
        with Locations((195.157142857, -244.187142857)):
            Circle(SKETCH_9_R_2, mode=Mode.SUBTRACT)
        with Locations((195.157142857, -216.187142857)):
            Circle(SKETCH_9_R_2, mode=Mode.SUBTRACT)
        with Locations(Location((195.157142857, 3.812857143, 0), (0, 0, 180))):
            Circle(SKETCH_9_R_2, mode=Mode.SUBTRACT)
        with Locations(Location((195.157142857, 31.812857143, 0), (0, 0, 180))):
            Circle(SKETCH_9_R_2, mode=Mode.SUBTRACT)
        with Locations((-145.592857143, -315.037142857)):
            Rectangle(SKETCH_9_W, SKETCH_9_H, mode=Mode.SUBTRACT)
        with Locations((-145.592857143, -307.037142857)):
            Rectangle(SKETCH_9_W, SKETCH_9_H, mode=Mode.SUBTRACT)
        with Locations((-145.592857143, -207.037142857)):
            Rectangle(SKETCH_9_W, SKETCH_9_H, mode=Mode.SUBTRACT)
    extrude(amount=-EXTRUDE_3_DEPTH)

    # 草图10 → 切除-拉伸4 (cut)
    with BuildSketch(Plane.XY.offset(2)):
        with Locations((-147.650816054, 57.812857143)):
            Rectangle(SKETCH_10_W, SKETCH_10_H)
        with Locations((-149.764170762, -8.187142857)):
            Rectangle(SKETCH_10_W_2, SKETCH_10_H)
        with Locations((-148.69440945, -74.187142857)):
            Rectangle(SKETCH_10_W_3, SKETCH_10_H)
        with Locations((-149.764170762, -140.187142857)):
            Rectangle(SKETCH_10_W_2, SKETCH_10_H)
        with Locations((-97.542857143, 109.189703787)):
            Rectangle(SKETCH_10_W_4, SKETCH_10_H_2)
        with Locations((-31.542857143, 107.331120799)):
            Rectangle(SKETCH_10_W_4, SKETCH_10_H_3)
        with Locations((34.457142857, 110.105932839)):
            Rectangle(SKETCH_10_W_4, SKETCH_10_H_4)
        with Locations((100.457142857, 110.607782904)):
            Rectangle(SKETCH_10_W_4, SKETCH_10_H_5)
    extrude(amount=-CUT_EXTRUDE_4_DEPTH, mode=Mode.SUBTRACT)

    # 圆角1
    fillet_1_edges = [part.edges().sort_by_distance(p)[0] for p in [
        (96.057142857, 108.812857143, 1),
        (104.857142857, 108.812857143, 1),
        (30.057142857, 108.812857143, 1),
        (38.857142857, 108.812857143, 1),
        (-35.942857143, 108.812857143, 1),
        (-27.142857143, 108.812857143, 1),
        (-148.542857143, -12.587142857, 1),
        (-148.542857143, -3.787142857, 1),
        (-148.542857143, -78.587142857, 1),
        (-148.542857143, -69.787142857, 1),
        (-148.542857143, -144.587142857, 1),
        (-148.542857143, -135.787142857, 1),
        (-101.942857143, 108.812857143, 1),
        (-93.142857143, 108.812857143, 1),
        (-148.542857143, 53.412857143, 1),
        (-148.542857143, 62.212857143, 1),
    ]]
    fillet(fillet_1_edges, radius=FILLET_1_R)


solid = part.part
